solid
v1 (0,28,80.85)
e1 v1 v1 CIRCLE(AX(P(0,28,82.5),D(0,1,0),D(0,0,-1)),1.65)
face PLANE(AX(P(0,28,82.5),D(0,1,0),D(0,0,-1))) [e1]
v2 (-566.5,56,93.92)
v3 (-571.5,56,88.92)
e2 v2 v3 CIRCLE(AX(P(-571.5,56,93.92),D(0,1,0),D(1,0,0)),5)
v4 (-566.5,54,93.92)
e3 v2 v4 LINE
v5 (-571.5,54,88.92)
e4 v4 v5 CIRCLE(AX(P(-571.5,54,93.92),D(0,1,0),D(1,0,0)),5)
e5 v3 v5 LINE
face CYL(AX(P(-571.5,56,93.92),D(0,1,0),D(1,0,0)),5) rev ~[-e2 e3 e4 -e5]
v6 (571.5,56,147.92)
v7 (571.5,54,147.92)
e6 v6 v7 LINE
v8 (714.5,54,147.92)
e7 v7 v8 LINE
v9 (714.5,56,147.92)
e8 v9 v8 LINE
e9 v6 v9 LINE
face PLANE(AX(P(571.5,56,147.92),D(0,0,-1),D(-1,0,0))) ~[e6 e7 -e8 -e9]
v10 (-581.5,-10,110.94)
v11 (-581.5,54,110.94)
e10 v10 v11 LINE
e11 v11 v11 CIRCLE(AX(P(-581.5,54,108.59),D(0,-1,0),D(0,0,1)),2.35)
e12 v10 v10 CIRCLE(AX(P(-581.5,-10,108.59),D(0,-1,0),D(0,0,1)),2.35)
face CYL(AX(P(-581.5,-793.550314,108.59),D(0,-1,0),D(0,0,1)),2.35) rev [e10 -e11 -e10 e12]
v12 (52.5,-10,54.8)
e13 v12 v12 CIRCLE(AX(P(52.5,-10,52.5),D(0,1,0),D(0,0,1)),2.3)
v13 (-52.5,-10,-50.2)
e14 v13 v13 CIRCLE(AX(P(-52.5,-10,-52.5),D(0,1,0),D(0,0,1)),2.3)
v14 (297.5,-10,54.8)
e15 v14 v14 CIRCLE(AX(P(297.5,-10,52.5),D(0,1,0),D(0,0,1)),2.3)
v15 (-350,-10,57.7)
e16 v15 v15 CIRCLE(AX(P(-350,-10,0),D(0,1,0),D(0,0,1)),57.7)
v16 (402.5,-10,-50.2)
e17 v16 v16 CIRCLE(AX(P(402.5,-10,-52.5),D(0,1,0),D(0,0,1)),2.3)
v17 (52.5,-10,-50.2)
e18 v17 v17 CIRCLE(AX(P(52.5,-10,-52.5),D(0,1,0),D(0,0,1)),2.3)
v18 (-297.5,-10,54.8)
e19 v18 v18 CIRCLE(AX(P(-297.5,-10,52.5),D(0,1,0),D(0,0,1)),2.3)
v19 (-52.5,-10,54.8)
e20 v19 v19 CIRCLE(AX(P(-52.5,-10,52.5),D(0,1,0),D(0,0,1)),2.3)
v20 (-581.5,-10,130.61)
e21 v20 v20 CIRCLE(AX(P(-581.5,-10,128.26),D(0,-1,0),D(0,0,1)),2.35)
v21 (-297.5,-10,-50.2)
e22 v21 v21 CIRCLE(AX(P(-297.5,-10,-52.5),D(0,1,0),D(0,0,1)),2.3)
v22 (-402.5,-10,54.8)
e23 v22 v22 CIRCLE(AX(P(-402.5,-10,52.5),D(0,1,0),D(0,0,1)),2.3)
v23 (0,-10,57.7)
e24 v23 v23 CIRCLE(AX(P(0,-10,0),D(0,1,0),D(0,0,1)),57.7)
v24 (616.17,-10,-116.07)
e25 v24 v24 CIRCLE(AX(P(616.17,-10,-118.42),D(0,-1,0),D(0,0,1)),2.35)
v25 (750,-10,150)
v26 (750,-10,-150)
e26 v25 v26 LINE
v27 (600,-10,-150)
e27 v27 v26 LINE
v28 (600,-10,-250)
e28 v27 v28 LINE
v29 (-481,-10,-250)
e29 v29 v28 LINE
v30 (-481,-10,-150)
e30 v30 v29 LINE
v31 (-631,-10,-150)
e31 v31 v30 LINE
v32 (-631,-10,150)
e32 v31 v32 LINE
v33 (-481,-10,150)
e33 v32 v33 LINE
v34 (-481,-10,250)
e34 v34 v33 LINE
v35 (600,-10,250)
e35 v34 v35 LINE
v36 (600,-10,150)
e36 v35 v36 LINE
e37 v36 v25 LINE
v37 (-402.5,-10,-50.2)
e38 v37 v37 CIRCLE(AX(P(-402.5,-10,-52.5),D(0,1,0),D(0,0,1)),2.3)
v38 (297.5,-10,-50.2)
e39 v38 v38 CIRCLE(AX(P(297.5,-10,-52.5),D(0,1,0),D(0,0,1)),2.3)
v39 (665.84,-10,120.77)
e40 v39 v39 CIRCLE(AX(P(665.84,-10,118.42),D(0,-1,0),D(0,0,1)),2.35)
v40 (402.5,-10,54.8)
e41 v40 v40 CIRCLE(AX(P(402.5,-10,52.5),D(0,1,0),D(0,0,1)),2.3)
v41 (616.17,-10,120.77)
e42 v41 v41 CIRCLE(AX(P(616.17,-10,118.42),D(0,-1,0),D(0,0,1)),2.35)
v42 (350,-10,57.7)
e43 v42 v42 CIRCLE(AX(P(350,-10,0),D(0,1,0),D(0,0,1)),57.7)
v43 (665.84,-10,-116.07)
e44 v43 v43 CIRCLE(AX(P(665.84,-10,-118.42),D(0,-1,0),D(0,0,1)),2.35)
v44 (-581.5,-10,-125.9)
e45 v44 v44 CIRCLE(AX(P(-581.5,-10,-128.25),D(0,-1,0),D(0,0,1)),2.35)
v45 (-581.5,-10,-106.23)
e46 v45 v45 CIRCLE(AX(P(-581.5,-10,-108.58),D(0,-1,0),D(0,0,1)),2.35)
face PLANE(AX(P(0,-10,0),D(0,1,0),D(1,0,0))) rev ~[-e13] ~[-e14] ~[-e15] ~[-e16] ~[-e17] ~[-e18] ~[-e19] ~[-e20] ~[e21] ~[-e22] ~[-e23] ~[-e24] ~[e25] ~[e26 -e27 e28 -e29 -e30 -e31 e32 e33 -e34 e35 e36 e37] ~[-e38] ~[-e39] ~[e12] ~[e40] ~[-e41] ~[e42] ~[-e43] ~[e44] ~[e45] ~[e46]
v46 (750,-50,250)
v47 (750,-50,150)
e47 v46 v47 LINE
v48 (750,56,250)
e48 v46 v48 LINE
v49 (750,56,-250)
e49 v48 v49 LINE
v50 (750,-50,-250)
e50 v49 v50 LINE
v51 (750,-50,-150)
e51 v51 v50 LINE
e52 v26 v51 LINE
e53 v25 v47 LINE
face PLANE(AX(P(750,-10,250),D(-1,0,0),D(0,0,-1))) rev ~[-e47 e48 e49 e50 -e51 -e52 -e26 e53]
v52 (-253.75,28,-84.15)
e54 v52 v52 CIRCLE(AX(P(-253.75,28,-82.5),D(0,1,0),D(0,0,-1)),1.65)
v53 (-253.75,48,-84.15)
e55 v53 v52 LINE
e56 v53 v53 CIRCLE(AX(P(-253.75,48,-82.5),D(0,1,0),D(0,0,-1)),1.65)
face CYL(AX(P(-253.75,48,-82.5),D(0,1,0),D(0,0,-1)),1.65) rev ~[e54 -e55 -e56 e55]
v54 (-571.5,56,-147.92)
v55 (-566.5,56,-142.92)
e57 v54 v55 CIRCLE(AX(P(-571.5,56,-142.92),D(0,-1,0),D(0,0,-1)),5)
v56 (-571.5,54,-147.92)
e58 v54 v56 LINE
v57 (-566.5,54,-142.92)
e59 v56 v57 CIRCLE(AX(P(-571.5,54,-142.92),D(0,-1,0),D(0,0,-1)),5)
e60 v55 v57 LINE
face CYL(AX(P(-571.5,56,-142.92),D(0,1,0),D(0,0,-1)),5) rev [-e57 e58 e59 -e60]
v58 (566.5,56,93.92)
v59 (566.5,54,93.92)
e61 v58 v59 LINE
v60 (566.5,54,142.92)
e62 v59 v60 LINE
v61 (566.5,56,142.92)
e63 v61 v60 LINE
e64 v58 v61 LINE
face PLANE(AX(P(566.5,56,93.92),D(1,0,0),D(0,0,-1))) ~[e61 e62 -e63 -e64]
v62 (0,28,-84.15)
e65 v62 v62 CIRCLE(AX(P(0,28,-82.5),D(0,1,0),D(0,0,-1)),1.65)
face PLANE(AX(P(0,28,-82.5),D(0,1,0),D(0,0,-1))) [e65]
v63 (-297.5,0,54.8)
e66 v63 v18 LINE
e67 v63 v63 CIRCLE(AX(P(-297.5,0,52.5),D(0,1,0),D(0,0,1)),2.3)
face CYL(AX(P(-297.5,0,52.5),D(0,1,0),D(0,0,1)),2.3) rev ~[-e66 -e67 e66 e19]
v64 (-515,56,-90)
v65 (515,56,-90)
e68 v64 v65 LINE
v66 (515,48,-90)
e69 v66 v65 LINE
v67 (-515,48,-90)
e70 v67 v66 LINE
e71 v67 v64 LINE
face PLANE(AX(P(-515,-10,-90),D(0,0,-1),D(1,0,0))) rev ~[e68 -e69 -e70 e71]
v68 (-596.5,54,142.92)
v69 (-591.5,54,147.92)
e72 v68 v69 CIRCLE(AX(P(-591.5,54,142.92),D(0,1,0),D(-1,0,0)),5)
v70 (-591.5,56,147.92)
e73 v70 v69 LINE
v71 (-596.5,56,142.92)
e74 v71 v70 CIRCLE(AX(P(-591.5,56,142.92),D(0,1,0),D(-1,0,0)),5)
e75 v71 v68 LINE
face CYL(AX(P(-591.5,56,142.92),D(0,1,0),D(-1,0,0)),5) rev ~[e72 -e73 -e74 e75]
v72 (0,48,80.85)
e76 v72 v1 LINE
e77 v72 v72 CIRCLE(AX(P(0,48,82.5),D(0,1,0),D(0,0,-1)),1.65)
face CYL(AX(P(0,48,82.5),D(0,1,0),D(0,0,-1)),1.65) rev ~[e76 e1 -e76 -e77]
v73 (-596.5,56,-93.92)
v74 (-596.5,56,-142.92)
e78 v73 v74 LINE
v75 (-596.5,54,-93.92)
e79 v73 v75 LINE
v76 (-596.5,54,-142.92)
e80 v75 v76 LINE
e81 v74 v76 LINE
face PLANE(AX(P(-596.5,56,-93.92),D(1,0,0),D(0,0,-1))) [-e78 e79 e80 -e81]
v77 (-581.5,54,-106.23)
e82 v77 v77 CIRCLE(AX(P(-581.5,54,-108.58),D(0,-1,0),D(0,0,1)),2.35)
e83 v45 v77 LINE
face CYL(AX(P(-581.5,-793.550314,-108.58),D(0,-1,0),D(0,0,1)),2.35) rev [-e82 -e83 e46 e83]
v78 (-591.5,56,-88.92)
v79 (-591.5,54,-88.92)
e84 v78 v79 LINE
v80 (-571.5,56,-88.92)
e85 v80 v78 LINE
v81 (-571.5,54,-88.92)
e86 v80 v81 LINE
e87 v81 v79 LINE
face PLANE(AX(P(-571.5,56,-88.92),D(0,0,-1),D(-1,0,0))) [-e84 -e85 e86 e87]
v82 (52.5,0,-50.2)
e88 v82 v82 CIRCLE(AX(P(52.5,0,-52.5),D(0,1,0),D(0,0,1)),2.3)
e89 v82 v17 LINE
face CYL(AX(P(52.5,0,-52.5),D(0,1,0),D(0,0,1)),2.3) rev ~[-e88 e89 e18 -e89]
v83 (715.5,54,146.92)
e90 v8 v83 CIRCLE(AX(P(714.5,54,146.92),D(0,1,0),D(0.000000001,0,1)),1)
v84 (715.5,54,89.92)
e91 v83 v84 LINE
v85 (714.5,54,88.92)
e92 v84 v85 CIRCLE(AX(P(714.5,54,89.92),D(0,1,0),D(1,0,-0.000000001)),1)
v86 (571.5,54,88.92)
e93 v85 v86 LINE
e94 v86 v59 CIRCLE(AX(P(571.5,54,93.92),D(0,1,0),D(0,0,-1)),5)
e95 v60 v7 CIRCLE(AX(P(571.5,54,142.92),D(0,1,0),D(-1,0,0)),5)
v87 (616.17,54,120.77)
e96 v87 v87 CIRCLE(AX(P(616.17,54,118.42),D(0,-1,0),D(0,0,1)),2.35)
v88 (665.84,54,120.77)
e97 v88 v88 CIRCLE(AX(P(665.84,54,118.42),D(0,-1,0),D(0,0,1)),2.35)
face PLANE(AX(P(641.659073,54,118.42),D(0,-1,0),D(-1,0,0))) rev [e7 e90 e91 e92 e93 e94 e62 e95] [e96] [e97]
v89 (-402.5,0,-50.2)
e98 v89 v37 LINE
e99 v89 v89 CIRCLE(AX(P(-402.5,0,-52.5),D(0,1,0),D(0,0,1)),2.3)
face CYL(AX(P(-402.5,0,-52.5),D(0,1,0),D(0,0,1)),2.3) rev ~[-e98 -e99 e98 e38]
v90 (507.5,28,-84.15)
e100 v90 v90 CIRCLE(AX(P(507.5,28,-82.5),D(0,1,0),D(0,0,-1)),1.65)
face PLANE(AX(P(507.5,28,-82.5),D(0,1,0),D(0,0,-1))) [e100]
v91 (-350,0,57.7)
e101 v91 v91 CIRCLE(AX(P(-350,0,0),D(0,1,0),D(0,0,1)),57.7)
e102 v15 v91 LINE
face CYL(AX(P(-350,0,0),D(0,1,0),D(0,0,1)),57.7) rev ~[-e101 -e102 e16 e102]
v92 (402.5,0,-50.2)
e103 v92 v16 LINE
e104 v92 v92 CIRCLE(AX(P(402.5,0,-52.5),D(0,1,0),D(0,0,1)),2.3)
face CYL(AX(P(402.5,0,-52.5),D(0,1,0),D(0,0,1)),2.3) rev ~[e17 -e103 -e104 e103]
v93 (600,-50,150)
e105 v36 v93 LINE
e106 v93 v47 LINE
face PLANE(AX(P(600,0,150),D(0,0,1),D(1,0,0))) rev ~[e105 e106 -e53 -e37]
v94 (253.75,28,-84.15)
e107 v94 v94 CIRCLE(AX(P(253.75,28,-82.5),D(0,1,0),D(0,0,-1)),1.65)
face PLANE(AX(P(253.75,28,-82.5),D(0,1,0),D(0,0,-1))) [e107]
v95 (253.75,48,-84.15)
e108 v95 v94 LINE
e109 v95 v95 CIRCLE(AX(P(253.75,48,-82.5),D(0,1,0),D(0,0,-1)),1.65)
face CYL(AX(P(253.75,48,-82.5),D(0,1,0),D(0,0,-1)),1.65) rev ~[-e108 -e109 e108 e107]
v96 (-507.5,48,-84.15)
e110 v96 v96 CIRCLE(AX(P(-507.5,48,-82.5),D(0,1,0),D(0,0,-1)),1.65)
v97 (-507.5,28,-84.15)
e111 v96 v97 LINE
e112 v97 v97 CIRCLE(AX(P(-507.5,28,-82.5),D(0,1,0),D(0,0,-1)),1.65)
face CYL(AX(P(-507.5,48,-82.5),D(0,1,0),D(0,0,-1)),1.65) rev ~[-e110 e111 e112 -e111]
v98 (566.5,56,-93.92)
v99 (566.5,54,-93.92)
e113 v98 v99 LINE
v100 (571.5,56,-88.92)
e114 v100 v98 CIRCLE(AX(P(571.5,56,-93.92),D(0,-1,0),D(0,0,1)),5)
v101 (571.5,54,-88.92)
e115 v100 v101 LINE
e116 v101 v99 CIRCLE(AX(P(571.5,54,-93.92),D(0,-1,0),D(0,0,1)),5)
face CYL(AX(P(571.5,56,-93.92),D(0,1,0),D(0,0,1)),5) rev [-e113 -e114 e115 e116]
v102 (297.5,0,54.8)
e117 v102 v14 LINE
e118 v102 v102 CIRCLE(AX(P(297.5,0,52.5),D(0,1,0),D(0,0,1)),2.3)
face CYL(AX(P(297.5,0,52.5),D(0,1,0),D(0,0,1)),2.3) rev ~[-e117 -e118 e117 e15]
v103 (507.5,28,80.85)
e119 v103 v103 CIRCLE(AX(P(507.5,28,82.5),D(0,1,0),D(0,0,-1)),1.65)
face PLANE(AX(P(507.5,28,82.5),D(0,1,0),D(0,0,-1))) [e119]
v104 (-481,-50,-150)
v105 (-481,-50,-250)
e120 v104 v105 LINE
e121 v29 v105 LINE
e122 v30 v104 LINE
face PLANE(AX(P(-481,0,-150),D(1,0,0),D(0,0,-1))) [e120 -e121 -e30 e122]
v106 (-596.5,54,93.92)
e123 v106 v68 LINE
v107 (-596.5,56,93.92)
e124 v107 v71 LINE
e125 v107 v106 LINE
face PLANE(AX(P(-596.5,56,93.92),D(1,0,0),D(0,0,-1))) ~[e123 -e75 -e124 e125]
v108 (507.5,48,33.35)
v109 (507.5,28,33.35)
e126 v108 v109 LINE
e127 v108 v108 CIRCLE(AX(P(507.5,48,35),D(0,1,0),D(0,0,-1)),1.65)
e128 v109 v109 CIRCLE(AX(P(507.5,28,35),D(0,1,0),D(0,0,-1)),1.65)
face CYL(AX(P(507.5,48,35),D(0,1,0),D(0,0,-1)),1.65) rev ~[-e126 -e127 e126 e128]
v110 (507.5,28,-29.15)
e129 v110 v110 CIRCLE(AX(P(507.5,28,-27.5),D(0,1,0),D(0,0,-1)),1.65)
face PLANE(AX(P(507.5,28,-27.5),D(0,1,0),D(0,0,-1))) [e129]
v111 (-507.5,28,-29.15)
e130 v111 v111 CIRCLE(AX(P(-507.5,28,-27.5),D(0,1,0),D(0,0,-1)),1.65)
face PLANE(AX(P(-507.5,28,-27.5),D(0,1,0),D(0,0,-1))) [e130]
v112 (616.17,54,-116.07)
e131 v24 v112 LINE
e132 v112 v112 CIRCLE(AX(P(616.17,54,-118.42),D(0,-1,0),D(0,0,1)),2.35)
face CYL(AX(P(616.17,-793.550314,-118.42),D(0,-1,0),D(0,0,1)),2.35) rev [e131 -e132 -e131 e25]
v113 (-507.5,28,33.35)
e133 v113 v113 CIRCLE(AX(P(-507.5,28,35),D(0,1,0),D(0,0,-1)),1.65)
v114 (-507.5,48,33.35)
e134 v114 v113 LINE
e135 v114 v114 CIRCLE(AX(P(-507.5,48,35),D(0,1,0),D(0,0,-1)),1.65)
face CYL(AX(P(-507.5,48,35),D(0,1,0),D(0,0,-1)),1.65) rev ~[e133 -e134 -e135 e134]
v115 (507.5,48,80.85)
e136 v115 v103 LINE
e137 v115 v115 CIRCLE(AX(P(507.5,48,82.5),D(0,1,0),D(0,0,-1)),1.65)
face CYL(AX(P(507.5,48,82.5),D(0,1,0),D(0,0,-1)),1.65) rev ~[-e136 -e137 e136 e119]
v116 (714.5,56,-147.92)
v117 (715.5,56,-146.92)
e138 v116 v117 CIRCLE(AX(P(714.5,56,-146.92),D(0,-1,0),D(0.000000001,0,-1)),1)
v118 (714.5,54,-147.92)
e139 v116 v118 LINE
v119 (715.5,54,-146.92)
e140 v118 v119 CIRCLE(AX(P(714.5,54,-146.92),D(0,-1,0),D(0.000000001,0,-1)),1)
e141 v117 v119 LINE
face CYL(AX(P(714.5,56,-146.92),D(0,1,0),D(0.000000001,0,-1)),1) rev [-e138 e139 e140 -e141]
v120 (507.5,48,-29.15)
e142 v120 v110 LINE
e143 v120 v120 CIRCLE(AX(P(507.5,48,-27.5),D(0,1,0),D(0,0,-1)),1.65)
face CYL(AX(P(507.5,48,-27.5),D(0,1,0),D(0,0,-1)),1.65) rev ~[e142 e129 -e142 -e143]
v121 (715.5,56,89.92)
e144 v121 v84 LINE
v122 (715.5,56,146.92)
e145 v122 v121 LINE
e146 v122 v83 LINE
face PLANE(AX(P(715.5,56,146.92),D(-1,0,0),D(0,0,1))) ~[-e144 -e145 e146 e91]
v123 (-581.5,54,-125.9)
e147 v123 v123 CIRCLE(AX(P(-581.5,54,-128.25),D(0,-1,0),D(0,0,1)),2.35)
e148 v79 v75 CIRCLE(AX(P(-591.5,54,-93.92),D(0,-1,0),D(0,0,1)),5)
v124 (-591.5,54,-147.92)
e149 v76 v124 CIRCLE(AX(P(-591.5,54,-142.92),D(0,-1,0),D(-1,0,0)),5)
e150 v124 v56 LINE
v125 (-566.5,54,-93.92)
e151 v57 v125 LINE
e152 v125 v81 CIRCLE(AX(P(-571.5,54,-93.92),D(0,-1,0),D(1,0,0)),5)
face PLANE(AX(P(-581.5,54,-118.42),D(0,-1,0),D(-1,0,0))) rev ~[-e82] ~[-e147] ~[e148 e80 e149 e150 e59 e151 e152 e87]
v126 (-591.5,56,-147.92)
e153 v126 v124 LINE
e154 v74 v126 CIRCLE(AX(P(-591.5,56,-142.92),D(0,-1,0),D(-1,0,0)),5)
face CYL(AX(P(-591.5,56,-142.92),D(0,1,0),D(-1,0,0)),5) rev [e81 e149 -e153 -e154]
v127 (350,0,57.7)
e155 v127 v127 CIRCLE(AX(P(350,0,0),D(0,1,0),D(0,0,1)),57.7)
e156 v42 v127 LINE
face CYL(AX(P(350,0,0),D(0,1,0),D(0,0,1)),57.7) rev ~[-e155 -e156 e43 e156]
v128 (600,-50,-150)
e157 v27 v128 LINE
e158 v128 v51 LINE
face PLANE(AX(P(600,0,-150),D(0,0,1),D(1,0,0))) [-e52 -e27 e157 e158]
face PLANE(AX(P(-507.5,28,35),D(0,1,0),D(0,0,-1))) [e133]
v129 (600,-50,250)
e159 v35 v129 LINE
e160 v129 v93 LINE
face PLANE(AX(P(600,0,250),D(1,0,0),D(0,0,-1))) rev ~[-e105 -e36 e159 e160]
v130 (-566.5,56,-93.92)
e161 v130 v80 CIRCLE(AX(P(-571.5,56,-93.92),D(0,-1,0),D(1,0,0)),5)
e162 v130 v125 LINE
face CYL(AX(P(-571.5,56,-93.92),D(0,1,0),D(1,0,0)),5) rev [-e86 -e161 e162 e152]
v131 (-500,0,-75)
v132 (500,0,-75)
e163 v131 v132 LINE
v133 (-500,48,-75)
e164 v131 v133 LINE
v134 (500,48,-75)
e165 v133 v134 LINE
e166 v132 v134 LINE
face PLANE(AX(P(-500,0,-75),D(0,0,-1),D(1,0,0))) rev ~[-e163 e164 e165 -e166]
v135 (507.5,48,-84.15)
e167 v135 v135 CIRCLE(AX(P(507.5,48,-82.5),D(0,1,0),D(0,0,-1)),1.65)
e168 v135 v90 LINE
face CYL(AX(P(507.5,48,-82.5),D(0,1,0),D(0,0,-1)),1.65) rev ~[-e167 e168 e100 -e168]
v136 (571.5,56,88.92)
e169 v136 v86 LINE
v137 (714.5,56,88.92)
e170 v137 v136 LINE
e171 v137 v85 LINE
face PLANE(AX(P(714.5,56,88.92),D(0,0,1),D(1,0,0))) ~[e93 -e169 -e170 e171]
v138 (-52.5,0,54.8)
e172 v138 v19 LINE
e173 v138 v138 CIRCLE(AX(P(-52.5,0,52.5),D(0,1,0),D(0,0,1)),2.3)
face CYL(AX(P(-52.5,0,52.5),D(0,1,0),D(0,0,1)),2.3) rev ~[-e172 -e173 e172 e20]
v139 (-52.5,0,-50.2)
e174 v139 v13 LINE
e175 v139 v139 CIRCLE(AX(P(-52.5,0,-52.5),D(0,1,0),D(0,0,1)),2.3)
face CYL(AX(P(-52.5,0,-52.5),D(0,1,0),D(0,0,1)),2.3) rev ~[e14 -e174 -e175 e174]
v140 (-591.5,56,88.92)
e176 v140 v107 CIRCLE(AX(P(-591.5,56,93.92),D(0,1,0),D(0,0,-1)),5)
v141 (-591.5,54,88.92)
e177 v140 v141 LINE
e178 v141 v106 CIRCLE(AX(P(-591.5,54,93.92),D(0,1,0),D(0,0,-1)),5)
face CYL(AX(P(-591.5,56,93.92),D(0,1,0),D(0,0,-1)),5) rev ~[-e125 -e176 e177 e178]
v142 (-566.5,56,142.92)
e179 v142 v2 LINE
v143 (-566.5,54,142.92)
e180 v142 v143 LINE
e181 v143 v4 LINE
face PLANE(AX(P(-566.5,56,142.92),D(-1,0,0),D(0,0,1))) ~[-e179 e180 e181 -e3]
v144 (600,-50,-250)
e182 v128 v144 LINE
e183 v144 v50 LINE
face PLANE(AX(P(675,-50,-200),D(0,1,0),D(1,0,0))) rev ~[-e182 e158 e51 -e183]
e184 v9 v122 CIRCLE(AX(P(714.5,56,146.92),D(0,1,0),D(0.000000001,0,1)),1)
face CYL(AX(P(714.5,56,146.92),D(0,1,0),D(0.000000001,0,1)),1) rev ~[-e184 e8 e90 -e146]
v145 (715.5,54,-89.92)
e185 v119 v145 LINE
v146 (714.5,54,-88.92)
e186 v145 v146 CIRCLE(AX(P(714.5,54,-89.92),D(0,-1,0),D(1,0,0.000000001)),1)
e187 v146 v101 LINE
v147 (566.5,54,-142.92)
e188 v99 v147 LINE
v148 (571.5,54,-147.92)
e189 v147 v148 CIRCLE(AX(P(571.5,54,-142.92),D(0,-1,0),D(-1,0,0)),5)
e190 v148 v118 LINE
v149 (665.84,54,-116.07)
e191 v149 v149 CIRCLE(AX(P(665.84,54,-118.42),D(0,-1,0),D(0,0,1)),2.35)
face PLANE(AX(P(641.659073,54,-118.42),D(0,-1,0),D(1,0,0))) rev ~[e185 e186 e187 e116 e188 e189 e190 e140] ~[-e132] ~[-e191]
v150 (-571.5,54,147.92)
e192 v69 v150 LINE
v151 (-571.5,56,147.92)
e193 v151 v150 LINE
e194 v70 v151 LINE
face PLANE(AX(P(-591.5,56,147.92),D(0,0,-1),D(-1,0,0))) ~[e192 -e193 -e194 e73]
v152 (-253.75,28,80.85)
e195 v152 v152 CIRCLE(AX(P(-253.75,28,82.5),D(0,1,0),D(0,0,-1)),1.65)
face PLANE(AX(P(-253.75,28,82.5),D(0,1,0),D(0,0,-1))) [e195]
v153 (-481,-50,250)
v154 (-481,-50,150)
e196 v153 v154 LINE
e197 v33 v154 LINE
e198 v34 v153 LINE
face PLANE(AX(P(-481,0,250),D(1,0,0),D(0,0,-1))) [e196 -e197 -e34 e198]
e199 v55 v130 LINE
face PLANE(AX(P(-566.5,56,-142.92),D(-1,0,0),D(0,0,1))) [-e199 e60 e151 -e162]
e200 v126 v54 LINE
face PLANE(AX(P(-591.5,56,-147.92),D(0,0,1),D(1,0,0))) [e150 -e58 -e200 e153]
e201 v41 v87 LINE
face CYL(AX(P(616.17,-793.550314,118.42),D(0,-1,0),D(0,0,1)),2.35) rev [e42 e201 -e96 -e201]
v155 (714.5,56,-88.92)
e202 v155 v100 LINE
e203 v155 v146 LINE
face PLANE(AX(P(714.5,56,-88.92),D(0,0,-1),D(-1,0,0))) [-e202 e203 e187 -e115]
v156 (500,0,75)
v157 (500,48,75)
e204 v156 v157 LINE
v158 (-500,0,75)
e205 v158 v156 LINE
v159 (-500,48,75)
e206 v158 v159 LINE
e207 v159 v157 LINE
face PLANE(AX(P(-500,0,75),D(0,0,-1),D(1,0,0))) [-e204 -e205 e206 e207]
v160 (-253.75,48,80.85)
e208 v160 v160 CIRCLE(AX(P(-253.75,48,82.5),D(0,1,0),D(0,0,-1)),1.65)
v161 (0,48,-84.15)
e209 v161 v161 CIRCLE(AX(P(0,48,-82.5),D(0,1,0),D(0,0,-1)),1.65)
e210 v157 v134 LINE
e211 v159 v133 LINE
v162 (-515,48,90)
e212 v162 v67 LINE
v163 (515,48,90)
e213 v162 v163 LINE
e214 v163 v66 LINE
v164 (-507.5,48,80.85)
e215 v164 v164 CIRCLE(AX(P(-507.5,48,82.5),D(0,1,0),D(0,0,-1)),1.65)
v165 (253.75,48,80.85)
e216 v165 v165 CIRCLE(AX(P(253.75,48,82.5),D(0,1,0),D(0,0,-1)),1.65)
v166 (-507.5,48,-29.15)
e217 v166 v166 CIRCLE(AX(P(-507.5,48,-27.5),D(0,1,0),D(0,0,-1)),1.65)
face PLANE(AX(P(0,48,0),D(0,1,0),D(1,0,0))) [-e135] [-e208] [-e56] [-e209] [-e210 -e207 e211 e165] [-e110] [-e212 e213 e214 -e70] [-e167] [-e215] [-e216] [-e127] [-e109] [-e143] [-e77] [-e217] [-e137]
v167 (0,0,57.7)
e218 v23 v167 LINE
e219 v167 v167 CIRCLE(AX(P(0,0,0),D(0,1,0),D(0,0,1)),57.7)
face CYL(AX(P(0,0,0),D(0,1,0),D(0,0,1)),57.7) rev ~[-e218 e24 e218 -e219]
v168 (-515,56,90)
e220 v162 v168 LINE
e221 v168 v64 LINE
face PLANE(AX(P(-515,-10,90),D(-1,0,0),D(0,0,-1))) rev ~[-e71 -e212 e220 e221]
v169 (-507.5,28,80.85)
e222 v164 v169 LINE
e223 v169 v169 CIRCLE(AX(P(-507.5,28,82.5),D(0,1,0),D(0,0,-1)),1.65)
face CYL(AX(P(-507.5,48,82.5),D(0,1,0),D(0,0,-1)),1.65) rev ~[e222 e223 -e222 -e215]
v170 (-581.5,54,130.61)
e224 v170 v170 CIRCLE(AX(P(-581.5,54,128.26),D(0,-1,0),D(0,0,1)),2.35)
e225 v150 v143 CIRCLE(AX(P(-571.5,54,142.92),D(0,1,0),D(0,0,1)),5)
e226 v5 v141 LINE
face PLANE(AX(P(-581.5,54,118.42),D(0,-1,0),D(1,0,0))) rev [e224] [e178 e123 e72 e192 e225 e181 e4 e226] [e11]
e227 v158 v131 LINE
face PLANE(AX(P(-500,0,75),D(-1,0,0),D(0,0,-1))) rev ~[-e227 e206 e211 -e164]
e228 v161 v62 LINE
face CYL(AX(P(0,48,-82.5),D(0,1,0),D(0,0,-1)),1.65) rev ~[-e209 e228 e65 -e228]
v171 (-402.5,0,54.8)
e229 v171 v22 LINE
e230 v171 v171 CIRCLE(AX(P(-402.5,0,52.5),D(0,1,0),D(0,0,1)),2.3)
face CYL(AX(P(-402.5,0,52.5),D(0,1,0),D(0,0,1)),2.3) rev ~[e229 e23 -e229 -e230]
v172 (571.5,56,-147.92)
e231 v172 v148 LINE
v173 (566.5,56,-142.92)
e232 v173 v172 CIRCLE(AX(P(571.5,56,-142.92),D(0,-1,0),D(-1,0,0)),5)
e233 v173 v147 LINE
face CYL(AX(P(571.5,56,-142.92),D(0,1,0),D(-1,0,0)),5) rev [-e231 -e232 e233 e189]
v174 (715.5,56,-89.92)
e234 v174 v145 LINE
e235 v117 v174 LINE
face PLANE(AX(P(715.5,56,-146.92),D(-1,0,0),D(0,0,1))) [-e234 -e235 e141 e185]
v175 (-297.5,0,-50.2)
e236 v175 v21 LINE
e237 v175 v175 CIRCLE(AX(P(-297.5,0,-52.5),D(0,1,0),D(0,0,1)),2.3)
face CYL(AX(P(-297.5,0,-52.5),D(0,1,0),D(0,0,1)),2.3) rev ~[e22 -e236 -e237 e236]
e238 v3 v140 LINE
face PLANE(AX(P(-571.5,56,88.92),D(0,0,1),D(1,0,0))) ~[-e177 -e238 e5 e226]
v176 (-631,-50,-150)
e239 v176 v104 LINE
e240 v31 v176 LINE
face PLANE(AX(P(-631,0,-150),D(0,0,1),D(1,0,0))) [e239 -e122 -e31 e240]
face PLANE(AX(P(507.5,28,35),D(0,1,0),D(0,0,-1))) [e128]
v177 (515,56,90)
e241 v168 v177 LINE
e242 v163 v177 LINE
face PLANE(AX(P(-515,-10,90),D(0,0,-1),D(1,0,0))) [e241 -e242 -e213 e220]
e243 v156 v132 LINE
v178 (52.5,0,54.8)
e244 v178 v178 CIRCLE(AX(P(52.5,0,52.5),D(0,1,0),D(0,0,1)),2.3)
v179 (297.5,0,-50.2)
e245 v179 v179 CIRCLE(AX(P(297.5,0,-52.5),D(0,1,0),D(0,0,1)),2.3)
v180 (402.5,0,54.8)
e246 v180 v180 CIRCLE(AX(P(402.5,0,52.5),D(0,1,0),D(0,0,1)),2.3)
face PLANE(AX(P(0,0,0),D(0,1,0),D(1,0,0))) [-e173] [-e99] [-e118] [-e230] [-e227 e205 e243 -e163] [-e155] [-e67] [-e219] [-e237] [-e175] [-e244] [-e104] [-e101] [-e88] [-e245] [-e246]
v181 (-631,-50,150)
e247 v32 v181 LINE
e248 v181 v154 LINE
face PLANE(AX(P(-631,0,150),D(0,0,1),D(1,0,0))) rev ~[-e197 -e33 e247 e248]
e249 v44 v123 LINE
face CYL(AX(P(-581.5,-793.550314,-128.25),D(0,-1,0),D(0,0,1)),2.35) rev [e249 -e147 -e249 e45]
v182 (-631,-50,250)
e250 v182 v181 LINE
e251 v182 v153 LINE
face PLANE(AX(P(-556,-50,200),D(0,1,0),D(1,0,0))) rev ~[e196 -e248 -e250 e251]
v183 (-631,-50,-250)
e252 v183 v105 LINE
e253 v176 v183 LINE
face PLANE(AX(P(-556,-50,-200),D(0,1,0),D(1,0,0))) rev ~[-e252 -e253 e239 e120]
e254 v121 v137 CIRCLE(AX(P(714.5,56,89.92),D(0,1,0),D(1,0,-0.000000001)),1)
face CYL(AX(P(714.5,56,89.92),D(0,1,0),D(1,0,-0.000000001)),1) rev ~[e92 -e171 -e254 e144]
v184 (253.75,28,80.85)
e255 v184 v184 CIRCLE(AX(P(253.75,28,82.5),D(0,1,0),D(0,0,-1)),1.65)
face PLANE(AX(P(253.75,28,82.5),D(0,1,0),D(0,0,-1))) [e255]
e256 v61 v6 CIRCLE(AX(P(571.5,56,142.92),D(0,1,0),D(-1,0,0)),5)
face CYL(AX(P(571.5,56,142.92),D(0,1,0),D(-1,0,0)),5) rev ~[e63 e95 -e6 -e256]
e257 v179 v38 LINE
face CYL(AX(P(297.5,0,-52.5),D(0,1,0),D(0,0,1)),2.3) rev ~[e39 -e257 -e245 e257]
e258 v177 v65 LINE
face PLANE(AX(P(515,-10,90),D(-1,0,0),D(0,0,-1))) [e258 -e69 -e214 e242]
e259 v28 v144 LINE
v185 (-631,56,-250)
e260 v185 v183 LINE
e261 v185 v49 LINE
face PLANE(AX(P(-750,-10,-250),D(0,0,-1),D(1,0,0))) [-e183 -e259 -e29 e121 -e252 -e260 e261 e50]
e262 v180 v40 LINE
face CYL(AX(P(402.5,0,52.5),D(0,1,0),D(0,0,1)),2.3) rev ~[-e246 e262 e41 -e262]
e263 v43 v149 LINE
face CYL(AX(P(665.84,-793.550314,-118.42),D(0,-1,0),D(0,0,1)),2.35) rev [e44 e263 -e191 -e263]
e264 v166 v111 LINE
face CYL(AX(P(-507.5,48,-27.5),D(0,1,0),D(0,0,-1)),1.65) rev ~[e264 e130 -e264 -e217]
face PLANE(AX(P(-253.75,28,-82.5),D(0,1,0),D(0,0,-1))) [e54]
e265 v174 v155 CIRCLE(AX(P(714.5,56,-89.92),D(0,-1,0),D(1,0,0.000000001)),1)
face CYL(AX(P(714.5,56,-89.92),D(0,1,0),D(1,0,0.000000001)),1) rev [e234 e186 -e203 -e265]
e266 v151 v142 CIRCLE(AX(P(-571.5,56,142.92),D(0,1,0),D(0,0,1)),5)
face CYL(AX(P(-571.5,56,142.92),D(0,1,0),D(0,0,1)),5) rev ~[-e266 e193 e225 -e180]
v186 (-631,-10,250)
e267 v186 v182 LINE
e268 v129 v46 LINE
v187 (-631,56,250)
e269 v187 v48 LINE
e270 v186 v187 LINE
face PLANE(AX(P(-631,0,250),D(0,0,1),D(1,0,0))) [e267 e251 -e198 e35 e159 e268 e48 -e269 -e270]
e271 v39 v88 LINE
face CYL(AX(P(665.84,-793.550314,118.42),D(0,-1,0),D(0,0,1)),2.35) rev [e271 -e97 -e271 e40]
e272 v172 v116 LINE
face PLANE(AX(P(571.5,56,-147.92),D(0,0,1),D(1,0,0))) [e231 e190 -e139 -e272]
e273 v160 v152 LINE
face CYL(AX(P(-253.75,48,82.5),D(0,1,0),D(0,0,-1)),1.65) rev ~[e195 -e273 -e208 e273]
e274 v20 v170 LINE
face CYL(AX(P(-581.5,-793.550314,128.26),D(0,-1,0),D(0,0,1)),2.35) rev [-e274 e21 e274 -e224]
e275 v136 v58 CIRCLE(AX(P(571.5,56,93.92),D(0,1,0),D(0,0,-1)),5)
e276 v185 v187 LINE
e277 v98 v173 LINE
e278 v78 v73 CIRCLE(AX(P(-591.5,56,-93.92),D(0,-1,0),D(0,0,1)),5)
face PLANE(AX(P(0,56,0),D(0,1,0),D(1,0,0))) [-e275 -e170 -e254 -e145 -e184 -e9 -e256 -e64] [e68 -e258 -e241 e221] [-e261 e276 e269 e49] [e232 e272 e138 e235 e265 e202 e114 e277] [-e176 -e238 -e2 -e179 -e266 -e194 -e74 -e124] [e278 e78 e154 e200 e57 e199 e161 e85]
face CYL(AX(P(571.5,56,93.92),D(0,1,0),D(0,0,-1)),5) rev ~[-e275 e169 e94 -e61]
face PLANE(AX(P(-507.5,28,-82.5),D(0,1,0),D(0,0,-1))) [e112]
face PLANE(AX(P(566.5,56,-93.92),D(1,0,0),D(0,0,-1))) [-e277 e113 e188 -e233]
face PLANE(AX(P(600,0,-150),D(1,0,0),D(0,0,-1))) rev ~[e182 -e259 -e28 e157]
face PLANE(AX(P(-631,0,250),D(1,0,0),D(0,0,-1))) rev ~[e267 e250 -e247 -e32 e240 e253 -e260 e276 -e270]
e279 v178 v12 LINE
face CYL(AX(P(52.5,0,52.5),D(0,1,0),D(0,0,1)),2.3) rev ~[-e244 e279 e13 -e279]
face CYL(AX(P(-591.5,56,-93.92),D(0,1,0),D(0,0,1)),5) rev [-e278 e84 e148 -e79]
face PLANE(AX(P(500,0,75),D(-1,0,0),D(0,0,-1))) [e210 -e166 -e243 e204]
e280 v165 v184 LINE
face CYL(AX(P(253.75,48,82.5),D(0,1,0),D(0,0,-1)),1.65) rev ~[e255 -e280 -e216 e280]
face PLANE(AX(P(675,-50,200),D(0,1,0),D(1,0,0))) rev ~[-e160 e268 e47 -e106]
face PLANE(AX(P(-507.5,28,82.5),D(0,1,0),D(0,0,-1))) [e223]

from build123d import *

# Parameters (mm, degrees)
SKETCH19_W               = 1030
SKETCH19_H               = 180
SKETCH19_W_2             = 1000
SKETCH19_H_2             = 150
BOSS_EXTRUDE2_DEPTH      = 48
SKETCH22_W               = 1030
SKETCH22_H               = 180
BOSS_EXTRUDE3_DEPTH      = 10
BOSS_EXTRUDE4_DEPTH      = 56
BOSS_EXTRUDE4_DEPTH_BACK = 10
SKETCH23_W               = 1500
SKETCH23_H               = 500
SKETCH23_W_2             = 1030
SKETCH23_H_2             = 180
CUT_EXTRUDE6_START       = 48
SKETCH26_R               = 1.65
CUT_EXTRUDE6_DEPTH       = 20
LPATTERN1_COUNT          = 5
LPATTERN1_PITCH          = 253.75
SKETCH28_R               = 2.3
SKETCH28_R_2             = 57.7
CUT_EXTRUDE7_DEPTH       = 793.55031386
LPATTERN2_COUNT          = 2
LPATTERN2_PITCH          = 350
LPATTERN2_COL_COUNT      = 2
LPATTERN2_COL_PITCH      = 350
CUT_EXTRUDE8_START       = 48
SKETCH27_R               = 1.65
CUT_EXTRUDE8_DEPTH       = 20
CUT_EXTRUDE9_START       = -56
CUT_EXTRUDE9_DEPTH       = 2
CUT_EXTRUDE10_START      = 56
CUT_EXTRUDE10_DEPTH      = 2
CUT_EXTRUDE11_DEPTH      = 793.55031386
CUT_EXTRUDE11_DEPTH_BACK = 793.55031386
SKETCH33_R               = 2.35
CUT_EXTRUDE12_DEPTH      = 793.55031386
CUT_EXTRUDE12_DEPTH_BACK = 793.55031386
SKETCH34_W               = 190.830831748
SKETCH34_H               = 540.530008981
SKETCH29_W               = 150
SKETCH29_H               = 100
BOSS_EXTRUDE5_DEPTH      = 50


with BuildPart() as part:
    # Sketch19 → Boss-Extrude2 (new body)
    with BuildSketch(Plane(origin=(0, 0, 0), x_dir=(1, 0, 0), z_dir=(0, 1, 0))):
        Rectangle(SKETCH19_W, SKETCH19_H)
        Rectangle(SKETCH19_W_2, SKETCH19_H_2, mode=Mode.SUBTRACT)
    extrude(amount=BOSS_EXTRUDE2_DEPTH)

    # Sketch22 → Boss-Extrude3 (add)
    with BuildSketch(Plane(origin=(0, 0, 0), x_dir=(1, 0, 0), z_dir=(0, 1, 0))):
        Rectangle(SKETCH22_W, SKETCH22_H)
    extrude(amount=-BOSS_EXTRUDE3_DEPTH)

    # Sketch23 → Boss-Extrude4 (add, two sides: drawn at the far end of the back side and taken through both)
    with BuildSketch(Plane(origin=(0, 0, 0), x_dir=(1, 0, 0), z_dir=(0, 1, 0)).offset(-BOSS_EXTRUDE4_DEPTH_BACK)):
        Rectangle(SKETCH23_W, SKETCH23_H)
        Rectangle(SKETCH23_W_2, SKETCH23_H_2, mode=Mode.SUBTRACT)
    extrude(amount=BOSS_EXTRUDE4_DEPTH + BOSS_EXTRUDE4_DEPTH_BACK)

    # Sketch26 → Cut-Extrude6 (cut)
    with BuildSketch(Plane(origin=(0, 0, 0), x_dir=(1, 0, 0), z_dir=(0, 1, 0)).offset(CUT_EXTRUDE6_START)):
        with Locations(Location((-507.5, -82.5, 0), (0, 0, 90))):
            Circle(SKETCH26_R)
        with Locations(Location((-507.5, 82.5, 0), (0, 0, 90))):
            Circle(SKETCH26_R)
    cut_extrude6 = extrude(amount=-CUT_EXTRUDE6_DEPTH, mode=Mode.SUBTRACT)

    # LPattern1: Cut-Extrude6 ×5
    with Locations(*[(i * LPATTERN1_PITCH, 0, 0) for i in range(1, LPATTERN1_COUNT)]):
        add(cut_extrude6, mode=Mode.SUBTRACT)

    # Sketch28 → Cut-Extrude7 (cut, symmetric)
    with BuildSketch(Plane(origin=(0, 0, 0), x_dir=(1, 0, 0), z_dir=(0, 1, 0))):
        with Locations(Location((-52.5, 52.5, 0), (0, 0, 270))):
            Circle(SKETCH28_R)
        with Locations(Location((52.5, 52.5, 0), (0, 0, 270))):
            Circle(SKETCH28_R)
        with Locations(Location((52.5, -52.5, 0), (0, 0, 270))):
            Circle(SKETCH28_R)
        with Locations(Location((-52.5, -52.5, 0), (0, 0, 270))):
            Circle(SKETCH28_R)
        with Locations(Location((0, 0, 0), (0, 0, 270))):
            Circle(SKETCH28_R_2)
    cut_extrude7 = extrude(amount=CUT_EXTRUDE7_DEPTH, both=True, mode=Mode.SUBTRACT)

    # LPattern2: Cut-Extrude7 ×2
    with Locations(*[(-i * LPATTERN2_PITCH, 0, 0) for i in range(1, LPATTERN2_COUNT)]):
        add(cut_extrude7, mode=Mode.SUBTRACT)

    # LPattern2 col: Cut-Extrude7 ×2
    with Locations(*[(i * LPATTERN2_COL_PITCH, 0, 0) for i in range(1, LPATTERN2_COL_COUNT)]):
        add(cut_extrude7, mode=Mode.SUBTRACT)

    # Sketch27 → Cut-Extrude8 (cut)
    with BuildSketch(Plane(origin=(0, 0, 0), x_dir=(1, 0, 0), z_dir=(0, 1, 0)).offset(CUT_EXTRUDE8_START)):
        with Locations(Location((-507.5, 27.5, 0), (0, 0, 90))):
            Circle(SKETCH27_R)
        with Locations(Location((-507.5, -35, 0), (0, 0, 90))):
            Circle(SKETCH27_R)
        with Locations(Location((507.5, -35, 0), (0, 0, 90))):
            Circle(SKETCH27_R)
        with Locations(Location((507.5, 27.5, 0), (0, 0, 90))):
            Circle(SKETCH27_R)
    extrude(amount=-CUT_EXTRUDE8_DEPTH, mode=Mode.SUBTRACT)

    # Sketch30 → Cut-Extrude9 (cut)
    with BuildSketch(Plane.XZ.offset(CUT_EXTRUDE9_START)):
        with BuildLine():
            Line((571.5, -147.92), (714.5, -147.92))
            ThreePointArc((714.5, -147.92), (715.207106781, -147.627106781), (715.5, -146.92))
            Line((715.5, -146.92), (715.5, -89.92))
            ThreePointArc((715.5, -89.92), (715.207106781, -89.212893219), (714.5, -88.92))
            Line((714.5, -88.92), (571.5, -88.92))
            ThreePointArc((571.5, -88.92), (567.964466094, -90.384466094), (566.5, -93.92))
            Line((566.5, -93.92), (566.5, -142.92))
            ThreePointArc((566.5, -142.92), (567.964466094, -146.455533906), (571.5, -147.92))
        make_face()
    cut_extrude9 = extrude(amount=CUT_EXTRUDE9_DEPTH, mode=Mode.SUBTRACT)

    # Mirror1: Cut-Extrude9 across plane
    add(cut_extrude9.mirror(Plane.XY), mode=Mode.SUBTRACT)

    # Sketch32 → Cut-Extrude10 (cut)
    with BuildSketch(Plane(origin=(0, 0, 0), x_dir=(1, 0, 0), z_dir=(0, 1, 0)).offset(CUT_EXTRUDE10_START)):
        with BuildLine():
            Line((-591.5, 147.92), (-571.5, 147.92))
            ThreePointArc((-571.5, 147.92), (-567.964466094, 146.455533906), (-566.5, 142.92))
            Line((-566.5, 142.92), (-566.5, 93.92))
            ThreePointArc((-566.5, 93.92), (-567.964466094, 90.384466094), (-571.5, 88.92))
            Line((-571.5, 88.92), (-591.5, 88.92))
            ThreePointArc((-591.5, 88.92), (-595.035533906, 90.384466094), (-596.5, 93.92))
            Line((-596.5, 93.92), (-596.5, 142.92))
            ThreePointArc((-596.5, 142.92), (-595.035533906, 146.455533906), (-591.5, 147.92))
        make_face()
    cut_extrude10 = extrude(amount=-CUT_EXTRUDE10_DEPTH, mode=Mode.SUBTRACT)

    # Mirror2: Cut-Extrude10 across plane
    add(cut_extrude10.mirror(Plane.XY), mode=Mode.SUBTRACT)

    # Sketch33 → Cut-Extrude11 (cut, two sides: drawn at the far end of the back side and taken through both)
    with BuildSketch(Plane(origin=(0, 0, 0), x_dir=(1, 0, 0), z_dir=(0, 1, 0)).offset(-CUT_EXTRUDE11_DEPTH_BACK)):
        with Locations(Location((-581.5, 108.58, 0), (0, 0, 270))):
            Circle(SKETCH33_R)
        with Locations(Location((-581.5, -108.59, 0), (0, 0, 270))):
            Circle(SKETCH33_R)
        with Locations(Location((-581.5, 128.25, 0), (0, 0, 270))):
            Circle(SKETCH33_R)
        with Locations(Location((-581.5, -128.26, 0), (0, 0, 270))):
            Circle(SKETCH33_R)
        with Locations(Location((616.17, -118.42, 0), (0, 0, 270))):
            Circle(SKETCH33_R)
        with Locations(Location((665.84, -118.42, 0), (0, 0, 270))):
            Circle(SKETCH33_R)
        with Locations(Location((616.17, 118.42, 0), (0, 0, 270))):
            Circle(SKETCH33_R)
        with Locations(Location((665.84, 118.42, 0), (0, 0, 270))):
            Circle(SKETCH33_R)
    extrude(amount=CUT_EXTRUDE11_DEPTH + CUT_EXTRUDE11_DEPTH_BACK, mode=Mode.SUBTRACT)

    # Sketch34 → Cut-Extrude12 (cut, two sides: drawn at the far end of the back side and taken through both)
    with BuildSketch(Plane(origin=(0, 0, 0), x_dir=(1, 0, 0), z_dir=(0, 1, 0)).offset(-CUT_EXTRUDE12_DEPTH_BACK)):
        with Locations((-726.415415874, 20.265004491)):
            Rectangle(SKETCH34_W, SKETCH34_H)
    extrude(amount=CUT_EXTRUDE12_DEPTH + CUT_EXTRUDE12_DEPTH_BACK, mode=Mode.SUBTRACT)

    # Sketch29 → Boss-Extrude5 (add)
    with BuildSketch(Plane(origin=(0, 0, 0), x_dir=(1, 0, 0), z_dir=(0, 1, 0))):
        with Locations((-556, -200)):
            Rectangle(SKETCH29_W, SKETCH29_H)
        with Locations((-556, 200)):
            Rectangle(SKETCH29_W, SKETCH29_H)
        with Locations((675, -200)):
            Rectangle(SKETCH29_W, SKETCH29_H)
        with Locations((675, 200)):
            Rectangle(SKETCH29_W, SKETCH29_H)
    extrude(amount=-BOSS_EXTRUDE5_DEPTH)


solid = part.part
